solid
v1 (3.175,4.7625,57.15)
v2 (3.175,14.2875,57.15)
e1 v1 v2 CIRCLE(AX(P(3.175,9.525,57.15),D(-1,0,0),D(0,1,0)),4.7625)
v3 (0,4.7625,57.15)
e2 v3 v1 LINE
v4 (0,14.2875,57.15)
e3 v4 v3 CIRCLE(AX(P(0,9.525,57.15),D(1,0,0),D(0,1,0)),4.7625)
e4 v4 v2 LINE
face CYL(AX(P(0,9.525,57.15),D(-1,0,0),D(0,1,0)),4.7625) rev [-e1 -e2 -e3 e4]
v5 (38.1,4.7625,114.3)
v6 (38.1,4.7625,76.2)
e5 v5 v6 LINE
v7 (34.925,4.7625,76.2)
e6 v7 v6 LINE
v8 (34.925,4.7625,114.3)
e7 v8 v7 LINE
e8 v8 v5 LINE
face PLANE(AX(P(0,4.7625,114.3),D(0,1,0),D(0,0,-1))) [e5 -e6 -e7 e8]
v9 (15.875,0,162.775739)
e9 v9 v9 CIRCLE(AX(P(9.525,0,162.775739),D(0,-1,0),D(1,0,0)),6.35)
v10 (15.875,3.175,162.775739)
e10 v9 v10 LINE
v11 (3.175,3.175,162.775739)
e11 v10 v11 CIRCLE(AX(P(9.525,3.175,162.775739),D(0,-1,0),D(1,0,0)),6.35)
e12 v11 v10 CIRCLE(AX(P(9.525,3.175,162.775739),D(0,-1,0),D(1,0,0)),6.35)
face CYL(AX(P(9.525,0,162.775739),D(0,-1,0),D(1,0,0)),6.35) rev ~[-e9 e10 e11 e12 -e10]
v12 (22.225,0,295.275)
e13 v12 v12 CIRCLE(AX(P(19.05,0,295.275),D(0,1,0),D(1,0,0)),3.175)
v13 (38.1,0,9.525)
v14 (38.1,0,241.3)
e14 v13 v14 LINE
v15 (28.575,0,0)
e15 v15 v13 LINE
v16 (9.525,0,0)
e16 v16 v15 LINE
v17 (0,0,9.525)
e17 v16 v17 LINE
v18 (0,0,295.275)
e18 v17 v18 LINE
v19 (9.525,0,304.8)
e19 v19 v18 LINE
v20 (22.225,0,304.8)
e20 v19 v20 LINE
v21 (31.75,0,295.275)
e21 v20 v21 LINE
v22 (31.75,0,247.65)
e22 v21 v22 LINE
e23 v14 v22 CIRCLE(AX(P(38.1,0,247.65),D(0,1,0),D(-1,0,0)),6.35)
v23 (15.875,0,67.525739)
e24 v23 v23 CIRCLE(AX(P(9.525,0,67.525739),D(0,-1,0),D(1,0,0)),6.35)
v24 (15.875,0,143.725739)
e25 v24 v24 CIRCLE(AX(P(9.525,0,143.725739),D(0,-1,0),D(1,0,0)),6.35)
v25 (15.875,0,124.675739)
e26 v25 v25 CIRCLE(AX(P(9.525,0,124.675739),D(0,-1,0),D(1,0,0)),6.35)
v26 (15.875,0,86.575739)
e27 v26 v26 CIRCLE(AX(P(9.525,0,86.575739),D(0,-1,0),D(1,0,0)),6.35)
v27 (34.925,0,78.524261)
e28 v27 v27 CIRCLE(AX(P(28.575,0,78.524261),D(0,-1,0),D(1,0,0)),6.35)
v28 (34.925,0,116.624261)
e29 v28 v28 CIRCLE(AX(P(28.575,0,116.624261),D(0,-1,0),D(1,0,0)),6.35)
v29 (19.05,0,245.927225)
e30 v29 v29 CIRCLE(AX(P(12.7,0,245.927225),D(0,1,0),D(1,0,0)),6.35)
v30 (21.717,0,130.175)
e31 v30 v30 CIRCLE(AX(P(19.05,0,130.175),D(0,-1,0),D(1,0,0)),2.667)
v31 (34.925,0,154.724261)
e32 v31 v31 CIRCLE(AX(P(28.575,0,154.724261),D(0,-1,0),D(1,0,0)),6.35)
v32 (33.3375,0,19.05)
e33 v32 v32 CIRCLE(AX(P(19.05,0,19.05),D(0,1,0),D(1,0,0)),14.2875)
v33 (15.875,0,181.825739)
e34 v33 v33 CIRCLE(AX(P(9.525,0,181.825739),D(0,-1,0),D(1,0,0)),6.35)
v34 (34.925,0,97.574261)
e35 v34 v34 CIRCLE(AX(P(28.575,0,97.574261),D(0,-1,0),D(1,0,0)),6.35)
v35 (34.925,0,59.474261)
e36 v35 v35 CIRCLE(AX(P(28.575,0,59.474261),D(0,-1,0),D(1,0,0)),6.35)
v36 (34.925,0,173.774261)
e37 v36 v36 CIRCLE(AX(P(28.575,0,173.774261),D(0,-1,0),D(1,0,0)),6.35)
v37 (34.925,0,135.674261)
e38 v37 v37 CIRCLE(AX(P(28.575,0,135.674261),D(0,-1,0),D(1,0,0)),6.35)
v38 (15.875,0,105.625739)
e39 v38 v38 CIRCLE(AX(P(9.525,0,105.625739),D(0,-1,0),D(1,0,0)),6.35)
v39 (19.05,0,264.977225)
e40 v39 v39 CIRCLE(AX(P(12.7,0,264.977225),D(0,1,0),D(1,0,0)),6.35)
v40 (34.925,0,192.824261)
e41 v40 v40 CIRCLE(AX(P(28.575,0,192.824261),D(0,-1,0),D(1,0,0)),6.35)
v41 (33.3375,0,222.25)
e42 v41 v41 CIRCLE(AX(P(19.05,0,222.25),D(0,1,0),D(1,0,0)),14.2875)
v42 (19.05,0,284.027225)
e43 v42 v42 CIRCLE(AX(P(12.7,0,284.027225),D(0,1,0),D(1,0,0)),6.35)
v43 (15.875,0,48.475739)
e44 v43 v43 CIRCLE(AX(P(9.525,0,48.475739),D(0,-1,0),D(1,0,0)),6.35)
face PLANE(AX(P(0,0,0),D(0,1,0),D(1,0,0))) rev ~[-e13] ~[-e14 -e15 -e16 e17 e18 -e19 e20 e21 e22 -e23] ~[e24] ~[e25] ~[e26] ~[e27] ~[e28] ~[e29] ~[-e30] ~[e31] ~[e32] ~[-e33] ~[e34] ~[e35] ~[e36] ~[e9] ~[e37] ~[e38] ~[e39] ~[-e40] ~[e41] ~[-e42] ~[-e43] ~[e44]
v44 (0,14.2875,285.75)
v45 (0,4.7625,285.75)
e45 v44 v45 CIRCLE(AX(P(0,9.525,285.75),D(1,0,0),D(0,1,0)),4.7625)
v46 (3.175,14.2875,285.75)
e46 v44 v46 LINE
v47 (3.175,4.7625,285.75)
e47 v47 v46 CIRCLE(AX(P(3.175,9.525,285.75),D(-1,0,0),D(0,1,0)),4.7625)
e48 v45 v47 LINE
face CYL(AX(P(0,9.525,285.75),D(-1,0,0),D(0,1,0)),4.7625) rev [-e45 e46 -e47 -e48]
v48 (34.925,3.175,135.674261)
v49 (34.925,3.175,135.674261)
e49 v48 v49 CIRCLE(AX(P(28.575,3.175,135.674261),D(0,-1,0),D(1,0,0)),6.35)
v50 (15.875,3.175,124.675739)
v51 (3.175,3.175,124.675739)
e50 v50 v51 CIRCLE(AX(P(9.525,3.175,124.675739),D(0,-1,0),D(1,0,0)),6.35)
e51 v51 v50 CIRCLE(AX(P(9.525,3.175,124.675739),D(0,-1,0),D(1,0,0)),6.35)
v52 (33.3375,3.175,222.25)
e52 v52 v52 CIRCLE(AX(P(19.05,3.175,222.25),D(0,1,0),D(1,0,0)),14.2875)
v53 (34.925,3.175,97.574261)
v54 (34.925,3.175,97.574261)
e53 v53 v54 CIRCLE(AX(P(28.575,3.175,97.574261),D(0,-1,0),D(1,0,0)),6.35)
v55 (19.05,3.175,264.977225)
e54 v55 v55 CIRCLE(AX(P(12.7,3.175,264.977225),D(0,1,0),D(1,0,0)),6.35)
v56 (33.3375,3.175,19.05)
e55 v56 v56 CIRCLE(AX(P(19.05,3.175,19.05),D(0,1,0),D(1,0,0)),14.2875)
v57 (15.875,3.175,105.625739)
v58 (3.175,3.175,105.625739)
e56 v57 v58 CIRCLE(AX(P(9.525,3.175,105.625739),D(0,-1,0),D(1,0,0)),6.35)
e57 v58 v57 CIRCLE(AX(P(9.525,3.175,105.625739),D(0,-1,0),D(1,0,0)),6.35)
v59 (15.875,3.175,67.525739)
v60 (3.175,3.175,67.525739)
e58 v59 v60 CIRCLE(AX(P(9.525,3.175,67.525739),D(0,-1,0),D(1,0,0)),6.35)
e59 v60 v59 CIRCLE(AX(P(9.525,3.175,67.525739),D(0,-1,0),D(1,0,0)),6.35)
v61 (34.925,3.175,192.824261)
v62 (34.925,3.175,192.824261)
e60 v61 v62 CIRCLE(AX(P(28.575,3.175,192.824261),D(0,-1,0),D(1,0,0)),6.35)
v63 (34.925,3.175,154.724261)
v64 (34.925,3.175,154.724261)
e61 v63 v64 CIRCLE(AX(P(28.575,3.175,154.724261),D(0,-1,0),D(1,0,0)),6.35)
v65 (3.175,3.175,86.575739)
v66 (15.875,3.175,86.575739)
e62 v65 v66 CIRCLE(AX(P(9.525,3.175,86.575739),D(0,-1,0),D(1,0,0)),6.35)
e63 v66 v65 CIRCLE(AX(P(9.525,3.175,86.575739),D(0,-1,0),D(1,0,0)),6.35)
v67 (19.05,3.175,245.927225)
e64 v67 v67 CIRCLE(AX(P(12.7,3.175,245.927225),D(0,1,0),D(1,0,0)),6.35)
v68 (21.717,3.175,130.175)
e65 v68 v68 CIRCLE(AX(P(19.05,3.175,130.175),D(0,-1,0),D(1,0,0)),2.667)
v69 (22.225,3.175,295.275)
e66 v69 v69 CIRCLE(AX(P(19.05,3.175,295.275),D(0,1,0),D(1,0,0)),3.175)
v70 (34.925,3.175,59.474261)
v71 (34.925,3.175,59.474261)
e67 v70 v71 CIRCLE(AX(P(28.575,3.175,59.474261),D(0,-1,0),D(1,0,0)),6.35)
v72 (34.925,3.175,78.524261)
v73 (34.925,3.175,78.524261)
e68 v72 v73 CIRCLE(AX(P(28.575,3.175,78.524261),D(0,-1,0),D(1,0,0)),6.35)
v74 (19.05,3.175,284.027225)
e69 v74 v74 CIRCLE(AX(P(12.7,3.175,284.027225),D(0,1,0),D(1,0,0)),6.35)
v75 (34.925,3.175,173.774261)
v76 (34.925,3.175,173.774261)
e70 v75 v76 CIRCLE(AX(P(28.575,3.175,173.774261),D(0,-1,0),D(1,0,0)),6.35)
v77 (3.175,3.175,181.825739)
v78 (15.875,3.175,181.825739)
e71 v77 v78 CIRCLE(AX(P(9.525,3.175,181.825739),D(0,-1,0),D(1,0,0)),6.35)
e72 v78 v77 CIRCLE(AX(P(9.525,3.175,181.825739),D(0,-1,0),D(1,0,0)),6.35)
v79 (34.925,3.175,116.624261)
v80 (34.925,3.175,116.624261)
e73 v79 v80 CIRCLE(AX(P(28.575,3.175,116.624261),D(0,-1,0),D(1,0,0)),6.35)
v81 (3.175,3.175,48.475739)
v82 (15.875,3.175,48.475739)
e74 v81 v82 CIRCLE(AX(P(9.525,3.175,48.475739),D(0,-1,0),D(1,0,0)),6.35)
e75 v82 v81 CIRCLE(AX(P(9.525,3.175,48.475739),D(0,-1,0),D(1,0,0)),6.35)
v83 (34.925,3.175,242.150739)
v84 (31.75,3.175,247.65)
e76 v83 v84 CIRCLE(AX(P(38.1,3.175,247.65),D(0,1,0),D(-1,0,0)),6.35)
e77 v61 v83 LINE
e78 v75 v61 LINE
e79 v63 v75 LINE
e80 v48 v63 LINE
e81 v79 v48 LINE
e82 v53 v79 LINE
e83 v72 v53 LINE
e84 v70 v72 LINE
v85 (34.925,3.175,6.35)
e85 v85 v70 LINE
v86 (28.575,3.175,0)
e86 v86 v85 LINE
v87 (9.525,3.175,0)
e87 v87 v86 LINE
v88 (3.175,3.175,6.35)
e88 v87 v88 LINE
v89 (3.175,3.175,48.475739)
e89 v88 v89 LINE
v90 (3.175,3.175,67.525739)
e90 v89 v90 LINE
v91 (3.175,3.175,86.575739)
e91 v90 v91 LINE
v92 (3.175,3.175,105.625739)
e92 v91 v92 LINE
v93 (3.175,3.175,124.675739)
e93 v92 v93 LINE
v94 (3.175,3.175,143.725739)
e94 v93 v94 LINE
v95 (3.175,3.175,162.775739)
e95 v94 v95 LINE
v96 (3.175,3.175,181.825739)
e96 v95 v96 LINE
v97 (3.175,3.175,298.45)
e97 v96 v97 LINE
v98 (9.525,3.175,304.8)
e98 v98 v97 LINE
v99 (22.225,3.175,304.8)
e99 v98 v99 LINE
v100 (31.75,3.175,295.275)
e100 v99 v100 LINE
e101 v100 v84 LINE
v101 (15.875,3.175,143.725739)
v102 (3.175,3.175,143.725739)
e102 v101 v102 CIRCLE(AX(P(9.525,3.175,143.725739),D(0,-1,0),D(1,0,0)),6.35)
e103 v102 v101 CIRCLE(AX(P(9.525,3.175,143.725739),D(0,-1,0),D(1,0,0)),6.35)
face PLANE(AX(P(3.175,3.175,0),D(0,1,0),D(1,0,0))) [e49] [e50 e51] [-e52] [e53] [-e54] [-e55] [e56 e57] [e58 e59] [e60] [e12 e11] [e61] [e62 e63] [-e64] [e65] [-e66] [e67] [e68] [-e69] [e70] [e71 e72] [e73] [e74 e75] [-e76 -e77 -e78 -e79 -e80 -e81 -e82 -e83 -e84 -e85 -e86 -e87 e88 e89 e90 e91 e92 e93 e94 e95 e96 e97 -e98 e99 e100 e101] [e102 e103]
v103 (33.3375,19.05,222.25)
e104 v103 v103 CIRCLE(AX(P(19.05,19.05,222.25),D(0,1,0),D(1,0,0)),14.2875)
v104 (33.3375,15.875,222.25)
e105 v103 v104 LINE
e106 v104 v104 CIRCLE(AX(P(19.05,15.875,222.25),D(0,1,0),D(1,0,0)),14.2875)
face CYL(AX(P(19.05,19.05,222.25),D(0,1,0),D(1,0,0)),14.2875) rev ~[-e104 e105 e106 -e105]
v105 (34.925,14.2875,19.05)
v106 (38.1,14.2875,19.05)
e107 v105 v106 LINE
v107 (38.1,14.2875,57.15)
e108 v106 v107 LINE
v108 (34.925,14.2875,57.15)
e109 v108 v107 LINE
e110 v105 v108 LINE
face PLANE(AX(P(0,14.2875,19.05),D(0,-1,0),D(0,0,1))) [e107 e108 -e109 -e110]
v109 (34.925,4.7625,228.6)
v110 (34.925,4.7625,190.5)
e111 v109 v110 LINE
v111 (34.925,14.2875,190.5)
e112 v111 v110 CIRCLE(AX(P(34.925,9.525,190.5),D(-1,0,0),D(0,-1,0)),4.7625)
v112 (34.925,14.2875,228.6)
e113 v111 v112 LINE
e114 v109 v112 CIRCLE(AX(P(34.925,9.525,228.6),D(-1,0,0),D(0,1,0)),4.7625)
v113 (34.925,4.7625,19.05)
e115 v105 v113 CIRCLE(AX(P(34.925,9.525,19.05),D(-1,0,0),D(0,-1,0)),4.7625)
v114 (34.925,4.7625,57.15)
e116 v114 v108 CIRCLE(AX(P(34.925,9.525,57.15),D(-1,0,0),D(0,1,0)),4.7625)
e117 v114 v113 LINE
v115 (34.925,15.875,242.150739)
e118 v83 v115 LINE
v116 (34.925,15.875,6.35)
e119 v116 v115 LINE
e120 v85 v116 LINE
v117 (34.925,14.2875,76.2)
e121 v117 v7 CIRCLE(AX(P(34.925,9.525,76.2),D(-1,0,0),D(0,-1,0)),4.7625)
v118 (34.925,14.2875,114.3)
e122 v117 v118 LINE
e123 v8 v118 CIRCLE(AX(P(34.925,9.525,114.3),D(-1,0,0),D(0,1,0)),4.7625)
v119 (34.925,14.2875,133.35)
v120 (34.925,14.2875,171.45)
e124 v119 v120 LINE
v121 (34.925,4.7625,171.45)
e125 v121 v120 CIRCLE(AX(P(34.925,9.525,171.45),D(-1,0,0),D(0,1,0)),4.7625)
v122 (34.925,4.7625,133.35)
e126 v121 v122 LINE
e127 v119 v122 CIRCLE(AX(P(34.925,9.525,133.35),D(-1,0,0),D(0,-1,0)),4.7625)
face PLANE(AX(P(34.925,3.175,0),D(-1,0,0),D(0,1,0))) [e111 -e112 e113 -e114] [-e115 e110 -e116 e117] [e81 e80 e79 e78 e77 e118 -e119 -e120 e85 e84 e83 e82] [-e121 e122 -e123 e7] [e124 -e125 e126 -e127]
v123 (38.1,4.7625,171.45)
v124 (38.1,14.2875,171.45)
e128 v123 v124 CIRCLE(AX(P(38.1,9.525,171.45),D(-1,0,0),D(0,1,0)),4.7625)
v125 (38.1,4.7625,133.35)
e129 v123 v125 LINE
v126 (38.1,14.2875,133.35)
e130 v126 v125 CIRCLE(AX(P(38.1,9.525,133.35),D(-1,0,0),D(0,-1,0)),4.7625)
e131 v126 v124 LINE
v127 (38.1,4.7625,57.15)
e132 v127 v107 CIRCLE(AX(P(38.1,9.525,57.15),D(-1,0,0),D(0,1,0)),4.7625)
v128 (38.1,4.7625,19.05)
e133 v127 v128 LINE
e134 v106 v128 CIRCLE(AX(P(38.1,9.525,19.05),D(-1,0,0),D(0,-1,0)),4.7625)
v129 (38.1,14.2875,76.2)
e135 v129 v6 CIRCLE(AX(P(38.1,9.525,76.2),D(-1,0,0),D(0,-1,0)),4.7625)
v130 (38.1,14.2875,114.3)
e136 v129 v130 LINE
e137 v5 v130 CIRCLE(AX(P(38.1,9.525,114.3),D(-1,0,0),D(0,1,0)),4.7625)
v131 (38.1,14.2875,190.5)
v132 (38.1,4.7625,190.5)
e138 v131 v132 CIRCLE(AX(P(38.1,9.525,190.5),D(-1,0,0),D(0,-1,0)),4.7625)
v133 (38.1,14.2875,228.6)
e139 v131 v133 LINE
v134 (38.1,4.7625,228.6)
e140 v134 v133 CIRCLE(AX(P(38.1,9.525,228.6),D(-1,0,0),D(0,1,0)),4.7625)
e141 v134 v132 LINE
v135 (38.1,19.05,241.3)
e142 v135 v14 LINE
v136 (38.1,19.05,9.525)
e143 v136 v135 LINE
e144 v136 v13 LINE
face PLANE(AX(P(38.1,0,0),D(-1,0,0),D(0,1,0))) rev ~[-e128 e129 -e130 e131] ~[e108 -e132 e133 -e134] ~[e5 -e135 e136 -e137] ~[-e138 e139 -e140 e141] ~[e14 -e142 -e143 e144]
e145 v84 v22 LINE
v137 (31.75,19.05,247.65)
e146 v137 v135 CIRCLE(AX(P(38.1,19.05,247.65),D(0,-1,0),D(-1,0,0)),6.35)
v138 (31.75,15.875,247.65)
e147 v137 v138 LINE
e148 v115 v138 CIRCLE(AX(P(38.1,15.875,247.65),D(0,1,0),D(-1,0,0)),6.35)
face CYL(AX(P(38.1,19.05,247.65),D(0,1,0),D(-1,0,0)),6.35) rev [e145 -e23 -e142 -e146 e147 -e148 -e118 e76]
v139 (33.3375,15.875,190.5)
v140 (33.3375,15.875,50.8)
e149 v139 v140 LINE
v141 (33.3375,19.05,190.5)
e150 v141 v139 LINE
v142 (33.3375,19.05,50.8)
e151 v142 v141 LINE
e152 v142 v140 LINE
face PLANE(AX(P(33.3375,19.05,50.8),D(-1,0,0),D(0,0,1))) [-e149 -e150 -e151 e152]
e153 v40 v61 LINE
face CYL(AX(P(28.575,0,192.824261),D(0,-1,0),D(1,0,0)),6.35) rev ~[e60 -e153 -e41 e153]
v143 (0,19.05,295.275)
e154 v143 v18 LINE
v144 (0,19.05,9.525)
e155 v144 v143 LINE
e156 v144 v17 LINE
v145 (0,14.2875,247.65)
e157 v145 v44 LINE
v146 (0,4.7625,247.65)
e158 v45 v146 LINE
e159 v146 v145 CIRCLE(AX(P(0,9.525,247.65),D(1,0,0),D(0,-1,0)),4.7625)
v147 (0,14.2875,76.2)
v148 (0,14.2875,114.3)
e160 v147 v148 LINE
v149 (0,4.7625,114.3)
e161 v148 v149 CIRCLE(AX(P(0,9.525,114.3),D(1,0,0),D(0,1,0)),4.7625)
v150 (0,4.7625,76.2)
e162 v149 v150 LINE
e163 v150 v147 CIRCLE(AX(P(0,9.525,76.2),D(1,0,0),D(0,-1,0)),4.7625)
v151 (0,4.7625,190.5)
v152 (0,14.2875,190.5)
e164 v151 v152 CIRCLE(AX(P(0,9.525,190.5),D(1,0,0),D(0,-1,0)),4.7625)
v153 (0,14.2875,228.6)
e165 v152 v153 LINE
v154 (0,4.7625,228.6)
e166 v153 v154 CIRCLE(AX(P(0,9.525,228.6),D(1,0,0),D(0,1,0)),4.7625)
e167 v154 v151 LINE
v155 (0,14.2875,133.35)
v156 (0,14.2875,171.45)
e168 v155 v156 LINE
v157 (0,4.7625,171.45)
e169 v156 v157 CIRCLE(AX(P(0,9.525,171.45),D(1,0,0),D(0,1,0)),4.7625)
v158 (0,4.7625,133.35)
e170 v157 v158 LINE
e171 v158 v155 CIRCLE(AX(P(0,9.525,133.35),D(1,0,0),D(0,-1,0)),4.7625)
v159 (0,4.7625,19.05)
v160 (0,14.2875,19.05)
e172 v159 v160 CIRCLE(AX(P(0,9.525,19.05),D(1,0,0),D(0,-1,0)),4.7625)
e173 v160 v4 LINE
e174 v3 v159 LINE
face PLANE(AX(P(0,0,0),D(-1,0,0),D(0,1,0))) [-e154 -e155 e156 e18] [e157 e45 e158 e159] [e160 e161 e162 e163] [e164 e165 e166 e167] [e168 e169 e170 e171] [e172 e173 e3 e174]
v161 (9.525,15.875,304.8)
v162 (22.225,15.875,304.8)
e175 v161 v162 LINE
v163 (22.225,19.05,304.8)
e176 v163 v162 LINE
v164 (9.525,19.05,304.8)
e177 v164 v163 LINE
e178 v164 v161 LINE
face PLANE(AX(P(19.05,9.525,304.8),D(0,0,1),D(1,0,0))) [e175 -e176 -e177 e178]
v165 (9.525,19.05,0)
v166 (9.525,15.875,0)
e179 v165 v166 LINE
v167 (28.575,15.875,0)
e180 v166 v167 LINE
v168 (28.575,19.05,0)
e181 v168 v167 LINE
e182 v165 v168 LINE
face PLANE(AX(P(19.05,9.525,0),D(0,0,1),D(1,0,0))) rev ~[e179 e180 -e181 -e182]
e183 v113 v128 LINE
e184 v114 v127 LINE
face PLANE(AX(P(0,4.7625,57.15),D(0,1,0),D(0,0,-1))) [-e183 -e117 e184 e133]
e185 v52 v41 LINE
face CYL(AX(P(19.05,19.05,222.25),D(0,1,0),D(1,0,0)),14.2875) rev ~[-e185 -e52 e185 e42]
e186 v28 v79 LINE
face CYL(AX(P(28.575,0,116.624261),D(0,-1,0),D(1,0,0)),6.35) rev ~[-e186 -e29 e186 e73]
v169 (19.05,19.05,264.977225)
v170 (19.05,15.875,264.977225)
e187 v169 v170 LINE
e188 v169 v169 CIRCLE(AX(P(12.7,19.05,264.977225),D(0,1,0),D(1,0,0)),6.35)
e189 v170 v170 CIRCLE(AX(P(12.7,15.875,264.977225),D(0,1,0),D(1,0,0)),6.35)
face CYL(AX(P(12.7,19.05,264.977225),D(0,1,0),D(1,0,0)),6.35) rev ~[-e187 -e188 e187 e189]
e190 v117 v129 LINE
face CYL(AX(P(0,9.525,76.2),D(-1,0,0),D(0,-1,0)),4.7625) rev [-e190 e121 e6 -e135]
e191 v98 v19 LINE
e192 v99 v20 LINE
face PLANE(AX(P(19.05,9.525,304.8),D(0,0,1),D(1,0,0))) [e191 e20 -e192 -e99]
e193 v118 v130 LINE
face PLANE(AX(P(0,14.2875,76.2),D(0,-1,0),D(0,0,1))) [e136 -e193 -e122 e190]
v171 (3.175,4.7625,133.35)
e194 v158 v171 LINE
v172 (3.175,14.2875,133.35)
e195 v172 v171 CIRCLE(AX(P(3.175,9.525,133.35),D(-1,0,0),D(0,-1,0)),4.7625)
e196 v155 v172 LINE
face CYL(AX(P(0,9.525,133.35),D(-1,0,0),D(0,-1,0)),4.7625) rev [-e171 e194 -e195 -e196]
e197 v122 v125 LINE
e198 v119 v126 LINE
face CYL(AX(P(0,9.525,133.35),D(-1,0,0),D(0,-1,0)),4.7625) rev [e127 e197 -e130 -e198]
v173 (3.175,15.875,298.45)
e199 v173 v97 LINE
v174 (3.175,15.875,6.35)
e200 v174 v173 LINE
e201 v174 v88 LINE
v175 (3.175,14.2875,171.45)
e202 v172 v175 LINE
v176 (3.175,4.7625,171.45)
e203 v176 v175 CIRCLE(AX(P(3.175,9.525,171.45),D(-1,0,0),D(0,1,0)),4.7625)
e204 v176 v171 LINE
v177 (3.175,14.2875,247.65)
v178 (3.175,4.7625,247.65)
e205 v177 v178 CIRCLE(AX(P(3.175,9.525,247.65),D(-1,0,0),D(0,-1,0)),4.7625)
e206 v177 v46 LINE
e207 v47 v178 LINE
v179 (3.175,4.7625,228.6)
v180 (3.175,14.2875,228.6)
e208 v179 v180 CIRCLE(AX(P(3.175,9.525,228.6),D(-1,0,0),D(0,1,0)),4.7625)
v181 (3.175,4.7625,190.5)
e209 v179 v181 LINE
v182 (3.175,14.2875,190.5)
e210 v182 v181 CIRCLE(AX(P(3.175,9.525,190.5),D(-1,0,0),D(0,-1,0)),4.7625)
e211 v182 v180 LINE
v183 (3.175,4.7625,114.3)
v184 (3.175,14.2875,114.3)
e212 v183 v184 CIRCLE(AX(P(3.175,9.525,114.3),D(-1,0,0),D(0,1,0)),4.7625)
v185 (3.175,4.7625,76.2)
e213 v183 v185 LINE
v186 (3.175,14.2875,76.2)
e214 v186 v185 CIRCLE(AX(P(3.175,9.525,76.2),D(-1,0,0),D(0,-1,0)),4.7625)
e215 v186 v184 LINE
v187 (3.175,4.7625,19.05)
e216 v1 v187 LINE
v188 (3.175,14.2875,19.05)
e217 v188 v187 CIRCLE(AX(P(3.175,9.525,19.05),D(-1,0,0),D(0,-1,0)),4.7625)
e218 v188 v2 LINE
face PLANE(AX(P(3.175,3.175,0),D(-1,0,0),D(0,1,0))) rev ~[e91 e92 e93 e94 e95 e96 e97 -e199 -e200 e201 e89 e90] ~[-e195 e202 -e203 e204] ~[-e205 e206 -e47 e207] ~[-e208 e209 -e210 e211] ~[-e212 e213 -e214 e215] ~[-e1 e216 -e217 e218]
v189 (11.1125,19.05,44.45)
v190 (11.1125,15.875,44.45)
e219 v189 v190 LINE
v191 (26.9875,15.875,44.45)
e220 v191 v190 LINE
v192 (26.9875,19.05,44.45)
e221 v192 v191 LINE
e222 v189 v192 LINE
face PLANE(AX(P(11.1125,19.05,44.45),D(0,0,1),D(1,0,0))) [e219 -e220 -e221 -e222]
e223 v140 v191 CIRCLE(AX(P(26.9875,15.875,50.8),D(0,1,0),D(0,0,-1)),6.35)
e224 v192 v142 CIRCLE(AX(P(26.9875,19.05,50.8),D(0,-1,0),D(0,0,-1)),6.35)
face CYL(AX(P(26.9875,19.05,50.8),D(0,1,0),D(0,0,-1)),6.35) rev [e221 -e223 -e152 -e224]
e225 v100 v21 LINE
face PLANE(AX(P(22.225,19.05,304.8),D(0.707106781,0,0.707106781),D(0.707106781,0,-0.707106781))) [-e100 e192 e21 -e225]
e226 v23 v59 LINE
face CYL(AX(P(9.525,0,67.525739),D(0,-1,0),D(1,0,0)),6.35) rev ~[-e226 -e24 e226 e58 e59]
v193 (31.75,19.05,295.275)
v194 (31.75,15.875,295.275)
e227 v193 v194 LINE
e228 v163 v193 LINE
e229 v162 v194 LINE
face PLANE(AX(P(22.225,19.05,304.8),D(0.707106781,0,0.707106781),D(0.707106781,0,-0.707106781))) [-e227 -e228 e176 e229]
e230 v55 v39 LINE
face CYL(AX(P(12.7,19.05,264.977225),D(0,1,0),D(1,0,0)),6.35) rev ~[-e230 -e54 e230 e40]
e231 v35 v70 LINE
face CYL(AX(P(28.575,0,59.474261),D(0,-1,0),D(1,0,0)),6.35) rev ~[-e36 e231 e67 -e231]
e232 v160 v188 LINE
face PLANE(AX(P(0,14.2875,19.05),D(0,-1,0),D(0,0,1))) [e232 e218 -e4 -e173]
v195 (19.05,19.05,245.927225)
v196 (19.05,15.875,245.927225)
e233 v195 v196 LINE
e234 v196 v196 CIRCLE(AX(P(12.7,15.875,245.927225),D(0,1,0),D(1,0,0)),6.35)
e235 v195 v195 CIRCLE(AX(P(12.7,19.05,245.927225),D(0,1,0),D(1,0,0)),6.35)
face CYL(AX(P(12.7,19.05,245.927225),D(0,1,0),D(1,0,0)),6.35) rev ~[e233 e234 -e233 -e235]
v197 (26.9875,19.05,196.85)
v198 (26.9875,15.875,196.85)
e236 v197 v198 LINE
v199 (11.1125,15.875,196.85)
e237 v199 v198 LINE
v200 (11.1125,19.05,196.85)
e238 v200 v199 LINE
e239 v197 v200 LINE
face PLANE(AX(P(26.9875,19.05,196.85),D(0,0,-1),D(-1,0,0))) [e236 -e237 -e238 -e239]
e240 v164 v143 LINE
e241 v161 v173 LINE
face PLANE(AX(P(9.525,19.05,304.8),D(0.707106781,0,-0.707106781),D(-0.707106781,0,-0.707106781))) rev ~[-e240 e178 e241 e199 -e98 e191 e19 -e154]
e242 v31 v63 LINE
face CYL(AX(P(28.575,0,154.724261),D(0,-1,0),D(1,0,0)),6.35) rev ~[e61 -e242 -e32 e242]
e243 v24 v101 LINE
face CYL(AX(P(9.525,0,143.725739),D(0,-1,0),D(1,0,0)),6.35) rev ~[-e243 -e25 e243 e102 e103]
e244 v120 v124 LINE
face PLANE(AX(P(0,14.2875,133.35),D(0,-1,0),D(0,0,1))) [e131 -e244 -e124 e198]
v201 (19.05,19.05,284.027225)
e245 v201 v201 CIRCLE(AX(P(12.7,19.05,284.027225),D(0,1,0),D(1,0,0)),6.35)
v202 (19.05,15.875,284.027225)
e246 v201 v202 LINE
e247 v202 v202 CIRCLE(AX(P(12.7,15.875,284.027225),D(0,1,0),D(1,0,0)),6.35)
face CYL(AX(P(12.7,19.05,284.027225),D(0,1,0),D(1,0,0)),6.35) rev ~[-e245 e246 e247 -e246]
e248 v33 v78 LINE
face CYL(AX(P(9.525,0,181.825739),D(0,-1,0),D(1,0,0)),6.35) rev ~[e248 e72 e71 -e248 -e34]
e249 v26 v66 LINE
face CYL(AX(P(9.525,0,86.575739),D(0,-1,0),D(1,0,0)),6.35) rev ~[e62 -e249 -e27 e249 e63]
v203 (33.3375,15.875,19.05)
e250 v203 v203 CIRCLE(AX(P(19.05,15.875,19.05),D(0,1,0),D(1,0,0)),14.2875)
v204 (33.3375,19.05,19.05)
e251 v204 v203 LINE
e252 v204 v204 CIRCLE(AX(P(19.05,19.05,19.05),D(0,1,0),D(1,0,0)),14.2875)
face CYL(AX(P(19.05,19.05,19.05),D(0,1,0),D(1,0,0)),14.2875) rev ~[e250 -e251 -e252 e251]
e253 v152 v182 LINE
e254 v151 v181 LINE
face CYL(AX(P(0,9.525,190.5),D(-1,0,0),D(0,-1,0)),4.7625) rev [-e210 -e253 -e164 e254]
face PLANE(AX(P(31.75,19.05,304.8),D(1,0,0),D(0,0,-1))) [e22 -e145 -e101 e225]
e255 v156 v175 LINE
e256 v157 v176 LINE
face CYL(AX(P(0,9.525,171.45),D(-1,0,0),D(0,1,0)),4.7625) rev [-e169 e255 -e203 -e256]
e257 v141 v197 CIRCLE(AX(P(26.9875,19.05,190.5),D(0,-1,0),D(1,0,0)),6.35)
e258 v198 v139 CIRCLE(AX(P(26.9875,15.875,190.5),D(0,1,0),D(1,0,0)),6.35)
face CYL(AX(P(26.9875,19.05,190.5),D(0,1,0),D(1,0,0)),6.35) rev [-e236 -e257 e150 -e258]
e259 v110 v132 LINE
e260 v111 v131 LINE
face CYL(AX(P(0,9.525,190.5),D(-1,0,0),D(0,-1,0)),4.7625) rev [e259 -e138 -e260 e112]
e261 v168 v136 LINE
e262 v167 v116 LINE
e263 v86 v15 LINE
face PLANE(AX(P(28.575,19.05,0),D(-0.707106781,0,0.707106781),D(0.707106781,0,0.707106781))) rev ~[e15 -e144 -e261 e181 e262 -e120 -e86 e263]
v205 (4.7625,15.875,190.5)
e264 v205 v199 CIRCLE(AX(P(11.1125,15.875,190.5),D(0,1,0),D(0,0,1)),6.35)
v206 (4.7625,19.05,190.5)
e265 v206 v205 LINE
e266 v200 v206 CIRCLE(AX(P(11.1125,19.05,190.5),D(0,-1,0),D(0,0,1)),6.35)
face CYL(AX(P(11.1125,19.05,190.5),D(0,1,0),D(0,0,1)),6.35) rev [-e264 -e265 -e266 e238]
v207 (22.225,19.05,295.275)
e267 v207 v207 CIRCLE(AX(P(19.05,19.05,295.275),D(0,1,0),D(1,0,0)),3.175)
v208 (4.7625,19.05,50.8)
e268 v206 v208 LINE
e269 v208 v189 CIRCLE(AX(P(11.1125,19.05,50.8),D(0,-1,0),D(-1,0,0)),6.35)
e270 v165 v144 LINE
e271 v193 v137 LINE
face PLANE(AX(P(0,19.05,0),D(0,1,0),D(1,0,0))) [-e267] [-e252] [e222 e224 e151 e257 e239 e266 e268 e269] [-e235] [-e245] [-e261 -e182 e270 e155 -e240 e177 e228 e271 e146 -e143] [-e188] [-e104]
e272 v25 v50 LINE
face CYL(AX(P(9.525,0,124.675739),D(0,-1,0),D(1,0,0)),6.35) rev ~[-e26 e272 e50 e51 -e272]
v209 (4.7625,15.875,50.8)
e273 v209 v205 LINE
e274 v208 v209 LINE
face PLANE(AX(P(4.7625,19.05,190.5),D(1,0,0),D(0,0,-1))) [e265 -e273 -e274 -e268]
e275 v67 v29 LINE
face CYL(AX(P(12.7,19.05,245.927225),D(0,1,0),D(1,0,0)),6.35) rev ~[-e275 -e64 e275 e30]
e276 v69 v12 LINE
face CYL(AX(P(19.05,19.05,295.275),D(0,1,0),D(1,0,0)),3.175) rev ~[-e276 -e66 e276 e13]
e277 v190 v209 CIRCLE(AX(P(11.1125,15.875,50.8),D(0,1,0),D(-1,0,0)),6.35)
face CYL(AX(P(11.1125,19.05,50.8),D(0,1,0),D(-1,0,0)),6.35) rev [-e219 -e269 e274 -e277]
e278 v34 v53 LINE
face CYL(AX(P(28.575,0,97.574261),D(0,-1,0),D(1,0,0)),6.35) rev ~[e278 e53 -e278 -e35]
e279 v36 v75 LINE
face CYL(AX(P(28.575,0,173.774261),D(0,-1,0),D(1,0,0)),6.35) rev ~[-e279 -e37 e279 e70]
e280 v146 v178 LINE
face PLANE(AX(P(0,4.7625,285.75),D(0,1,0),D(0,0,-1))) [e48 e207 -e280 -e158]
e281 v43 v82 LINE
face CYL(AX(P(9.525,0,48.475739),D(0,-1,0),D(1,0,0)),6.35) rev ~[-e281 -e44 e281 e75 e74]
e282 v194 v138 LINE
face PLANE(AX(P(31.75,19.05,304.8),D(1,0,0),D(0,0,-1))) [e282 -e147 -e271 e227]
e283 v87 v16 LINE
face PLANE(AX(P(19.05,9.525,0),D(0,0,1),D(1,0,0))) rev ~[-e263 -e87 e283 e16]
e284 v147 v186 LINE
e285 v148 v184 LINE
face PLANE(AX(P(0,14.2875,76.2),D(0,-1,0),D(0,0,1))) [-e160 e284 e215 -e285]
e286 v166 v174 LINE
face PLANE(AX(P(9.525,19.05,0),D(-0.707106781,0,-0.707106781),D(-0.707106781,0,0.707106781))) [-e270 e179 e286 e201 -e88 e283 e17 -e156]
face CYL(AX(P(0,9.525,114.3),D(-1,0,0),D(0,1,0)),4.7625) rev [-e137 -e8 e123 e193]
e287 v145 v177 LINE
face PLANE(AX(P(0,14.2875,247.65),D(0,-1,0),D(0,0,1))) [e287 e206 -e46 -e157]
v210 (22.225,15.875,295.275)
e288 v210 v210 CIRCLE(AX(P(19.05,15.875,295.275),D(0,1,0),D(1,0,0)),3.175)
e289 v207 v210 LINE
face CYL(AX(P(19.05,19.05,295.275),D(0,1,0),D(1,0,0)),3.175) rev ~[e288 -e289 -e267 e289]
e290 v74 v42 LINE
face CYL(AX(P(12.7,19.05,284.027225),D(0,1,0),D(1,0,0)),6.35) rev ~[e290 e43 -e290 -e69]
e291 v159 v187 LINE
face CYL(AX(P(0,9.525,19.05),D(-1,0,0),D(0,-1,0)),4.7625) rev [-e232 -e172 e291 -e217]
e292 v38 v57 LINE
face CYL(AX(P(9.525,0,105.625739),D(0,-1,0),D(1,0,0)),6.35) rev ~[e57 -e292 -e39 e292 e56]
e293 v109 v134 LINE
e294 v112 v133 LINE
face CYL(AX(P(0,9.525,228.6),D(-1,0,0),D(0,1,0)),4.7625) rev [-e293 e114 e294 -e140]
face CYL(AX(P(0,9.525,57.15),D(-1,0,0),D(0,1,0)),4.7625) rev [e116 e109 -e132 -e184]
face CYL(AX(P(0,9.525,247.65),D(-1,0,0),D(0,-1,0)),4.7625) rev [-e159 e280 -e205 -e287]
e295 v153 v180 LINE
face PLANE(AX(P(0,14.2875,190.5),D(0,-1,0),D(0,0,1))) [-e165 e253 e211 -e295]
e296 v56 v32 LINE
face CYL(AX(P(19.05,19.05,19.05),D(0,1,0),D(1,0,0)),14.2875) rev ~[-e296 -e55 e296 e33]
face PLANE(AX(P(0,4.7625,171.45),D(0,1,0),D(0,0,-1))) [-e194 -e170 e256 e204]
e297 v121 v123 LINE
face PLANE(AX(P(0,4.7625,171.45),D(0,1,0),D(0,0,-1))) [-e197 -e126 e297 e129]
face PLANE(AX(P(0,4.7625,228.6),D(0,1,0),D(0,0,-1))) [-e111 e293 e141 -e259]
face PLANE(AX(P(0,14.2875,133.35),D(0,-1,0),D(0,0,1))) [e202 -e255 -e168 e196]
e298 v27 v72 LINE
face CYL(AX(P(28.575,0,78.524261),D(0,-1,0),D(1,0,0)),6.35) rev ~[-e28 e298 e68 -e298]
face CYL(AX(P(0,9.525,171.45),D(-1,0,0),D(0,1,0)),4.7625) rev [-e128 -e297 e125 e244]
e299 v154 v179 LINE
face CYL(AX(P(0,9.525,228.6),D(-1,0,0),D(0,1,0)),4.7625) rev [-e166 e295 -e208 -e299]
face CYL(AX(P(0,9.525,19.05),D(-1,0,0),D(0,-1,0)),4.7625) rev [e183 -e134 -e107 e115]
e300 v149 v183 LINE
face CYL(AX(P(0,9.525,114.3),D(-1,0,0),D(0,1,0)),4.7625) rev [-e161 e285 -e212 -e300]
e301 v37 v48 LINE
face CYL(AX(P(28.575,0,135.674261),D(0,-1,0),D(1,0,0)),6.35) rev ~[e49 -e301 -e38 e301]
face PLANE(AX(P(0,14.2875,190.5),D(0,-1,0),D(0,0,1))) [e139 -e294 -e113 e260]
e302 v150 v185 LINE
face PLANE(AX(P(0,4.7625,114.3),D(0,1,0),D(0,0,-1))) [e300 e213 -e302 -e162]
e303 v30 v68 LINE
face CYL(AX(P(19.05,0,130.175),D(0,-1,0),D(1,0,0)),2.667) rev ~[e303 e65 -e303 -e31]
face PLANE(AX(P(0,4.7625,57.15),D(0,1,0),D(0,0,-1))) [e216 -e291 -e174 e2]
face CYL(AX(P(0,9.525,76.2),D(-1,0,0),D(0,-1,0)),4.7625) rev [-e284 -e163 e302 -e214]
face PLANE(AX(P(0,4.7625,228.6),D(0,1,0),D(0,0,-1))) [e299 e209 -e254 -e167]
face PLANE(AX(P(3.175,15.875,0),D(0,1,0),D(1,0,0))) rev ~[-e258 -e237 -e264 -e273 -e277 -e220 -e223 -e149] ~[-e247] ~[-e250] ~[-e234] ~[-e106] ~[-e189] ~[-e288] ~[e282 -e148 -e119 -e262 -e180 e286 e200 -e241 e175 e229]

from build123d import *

# Parameters (mm, degrees)
SKETCH1_W           = 38.1
SKETCH1_H           = 19.05
SKETCH1_W_2         = 31.75
SKETCH1_H_2         = 12.7
BOSS_EXTRUDE1_DEPTH = 304.8
SKETCH2_R           = 14.2875
CUT_EXTRUDE1_DEPTH  = 20.05
SKETCH3_R           = 3.175
CUT_EXTRUDE2_DEPTH  = 20.05
CUT_EXTRUDE3_DEPTH  = 20.05
CUT_EXTRUDE6_DEPTH  = 39.1
CUT_EXTRUDE7_REACH  = 21.05
CUT_EXTRUDE8_REACH  = 21.05
SKETCH9_R           = 6.35
CUT_EXTRUDE9_REACH  = 21.05
SKETCH10_R          = 2.667
SKETCH11_R          = 6.35
CUT_EXTRUDE10_DEPTH = 20.05
CUT_EXTRUDE11_DEPTH = 20.05


with BuildPart() as part:
    # Sketch1 → Boss-Extrude1 (new body)
    with BuildSketch(Plane.XY):
        with Locations((19.05, 9.525)):
            Rectangle(SKETCH1_W, SKETCH1_H)
        with Locations((19.05, 9.525)):
            Rectangle(SKETCH1_W_2, SKETCH1_H_2, mode=Mode.SUBTRACT)
    extrude(amount=BOSS_EXTRUDE1_DEPTH)

    # Sketch2 → Cut-Extrude1 (cut, through all)
    with BuildSketch(Plane(origin=(0, 19.05, 0), x_dir=(1, 0, 0), z_dir=(0, 1, 0))):
        with Locations((19.05, -19.05)):
            Circle(SKETCH2_R)
        with Locations((19.05, -222.25)):
            Circle(SKETCH2_R)
    extrude(amount=-CUT_EXTRUDE1_DEPTH, mode=Mode.SUBTRACT)

    # Sketch3 → Cut-Extrude2 (cut, through all)
    with BuildSketch(Plane(origin=(0, 19.05, 0), x_dir=(1, 0, 0), z_dir=(0, 1, 0))):
        with Locations((19.05, -295.275)):
            Circle(SKETCH3_R)
    extrude(amount=-CUT_EXTRUDE2_DEPTH, mode=Mode.SUBTRACT)

    # Sketch4 → Cut-Extrude3 (cut, through all)
    with BuildSketch(Plane(origin=(0, 19.05, 0), x_dir=(1, 0, 0), z_dir=(0, 1, 0))):
        with BuildLine():
            Line((31.75, -304.8), (31.75, -247.65))
            ThreePointArc((31.75, -247.65), (33.609871939, -243.159871939), (38.1, -241.3))
            Line((38.1, -241.3), (38.1, -304.8))
            Line((38.1, -304.8), (31.75, -304.8))
        make_face()
    extrude(amount=-CUT_EXTRUDE3_DEPTH, mode=Mode.SUBTRACT)

    # Sketch7 → Cut-Extrude6 (cut, through all)
    with BuildSketch(Plane.ZY):
        with BuildLine():
            Line((19.05, 14.2875), (57.15, 14.2875))
            ThreePointArc((57.15, 14.2875), (61.9125, 9.525), (57.15, 4.7625))
            Line((57.15, 4.7625), (19.05, 4.7625))
            ThreePointArc((19.05, 4.7625), (14.2875, 9.525), (19.05, 14.2875))
        make_face()
        with BuildLine():
            Line((76.2, 14.2875), (114.3, 14.2875))
            ThreePointArc((114.3, 14.2875), (119.0625, 9.525), (114.3, 4.7625))
            Line((114.3, 4.7625), (76.2, 4.7625))
            ThreePointArc((76.2, 4.7625), (71.4375, 9.525), (76.2, 14.2875))
        make_face()
        with BuildLine():
            Line((133.35, 14.2875), (171.45, 14.2875))
            ThreePointArc((171.45, 14.2875), (176.2125, 9.525), (171.45, 4.7625))
            Line((171.45, 4.7625), (133.35, 4.7625))
            ThreePointArc((133.35, 4.7625), (128.5875, 9.525), (133.35, 14.2875))
        make_face()
        with BuildLine():
            Line((190.5, 14.2875), (228.6, 14.2875))
            ThreePointArc((228.6, 14.2875), (233.3625, 9.525), (228.6, 4.7625))
            Line((228.6, 4.7625), (190.5, 4.7625))
            ThreePointArc((190.5, 4.7625), (185.7375, 9.525), (190.5, 14.2875))
        make_face()
        with BuildLine():
            Line((247.65, 14.2875), (285.75, 14.2875))
            ThreePointArc((285.75, 14.2875), (290.5125, 9.525), (285.75, 4.7625))
            Line((285.75, 4.7625), (247.65, 4.7625))
            ThreePointArc((247.65, 4.7625), (242.8875, 9.525), (247.65, 14.2875))
        make_face()
    extrude(amount=-CUT_EXTRUDE6_DEPTH, mode=Mode.SUBTRACT)

    # Sketch8 → Cut-Extrude7 (cut, up to next)
    with BuildSketch(Plane(origin=(0, 19.05, 0), x_dir=(1, 0, 0), z_dir=(0, 1, 0)), mode=Mode.PRIVATE) as cut_extrude7_sk1:
        with BuildLine():
            Line((11.1125, -44.45), (26.9875, -44.45))
            ThreePointArc((26.9875, -44.45), (31.477628061, -46.309871939), (33.3375, -50.8))
            Line((33.3375, -50.8), (33.3375, -190.5))
            ThreePointArc((33.3375, -190.5), (31.477628061, -194.990128061), (26.9875, -196.85))
            Line((26.9875, -196.85), (11.1125, -196.85))
            ThreePointArc((11.1125, -196.85), (6.622371939, -194.990128061), (4.7625, -190.5))
            Line((4.7625, -190.5), (4.7625, -50.8))
            ThreePointArc((4.7625, -50.8), (6.622371939, -46.309871939), (11.1125, -44.45))
        make_face()
    cut_extrude7_tool1 = extrude(cut_extrude7_sk1.sketch, amount=-CUT_EXTRUDE7_REACH, mode=Mode.PRIVATE) & part.part
    add(cut_extrude7_tool1.solids().sort_by_distance((19.05, 19.05, 120.65))[0], mode=Mode.SUBTRACT)

    # Sketch9 → Cut-Extrude8 (cut, up to next)
    with BuildSketch(Plane.XZ, mode=Mode.PRIVATE) as cut_extrude8_sk1:
        with Locations((9.525, 48.475738686)):
            Circle(SKETCH9_R)
    cut_extrude8_tool1 = extrude(cut_extrude8_sk1.sketch, amount=-CUT_EXTRUDE8_REACH, mode=Mode.PRIVATE) & part.part
    add(cut_extrude8_tool1.solids().sort_by_distance((9.525, 0, 48.475739))[0], mode=Mode.SUBTRACT)
    # Sketch9 → Cut-Extrude8 (cut, up to next)
    with BuildSketch(Plane.XZ, mode=Mode.PRIVATE) as cut_extrude8_sk2:
        with Locations((28.575, 59.474261314)):
            Circle(SKETCH9_R)
    cut_extrude8_tool2 = extrude(cut_extrude8_sk2.sketch, amount=-CUT_EXTRUDE8_REACH, mode=Mode.PRIVATE) & part.part
    add(cut_extrude8_tool2.solids().sort_by_distance((28.575, 0, 59.474261))[0], mode=Mode.SUBTRACT)
    # Sketch9 → Cut-Extrude8 (cut, up to next)
    with BuildSketch(Plane.XZ, mode=Mode.PRIVATE) as cut_extrude8_sk3:
        with Locations((9.525, 67.525738686)):
            Circle(SKETCH9_R)
    cut_extrude8_tool3 = extrude(cut_extrude8_sk3.sketch, amount=-CUT_EXTRUDE8_REACH, mode=Mode.PRIVATE) & part.part
    add(cut_extrude8_tool3.solids().sort_by_distance((9.525, 0, 67.525739))[0], mode=Mode.SUBTRACT)
    # Sketch9 → Cut-Extrude8 (cut, up to next)
    with BuildSketch(Plane.XZ, mode=Mode.PRIVATE) as cut_extrude8_sk4:
        with Locations((28.575, 78.524261314)):
            Circle(SKETCH9_R)
    cut_extrude8_tool4 = extrude(cut_extrude8_sk4.sketch, amount=-CUT_EXTRUDE8_REACH, mode=Mode.PRIVATE) & part.part
    add(cut_extrude8_tool4.solids().sort_by_distance((28.575, 0, 78.524261))[0], mode=Mode.SUBTRACT)
    # Sketch9 → Cut-Extrude8 (cut, up to next)
    with BuildSketch(Plane.XZ, mode=Mode.PRIVATE) as cut_extrude8_sk5:
        with Locations((9.525, 86.575738686)):
            Circle(SKETCH9_R)
    cut_extrude8_tool5 = extrude(cut_extrude8_sk5.sketch, amount=-CUT_EXTRUDE8_REACH, mode=Mode.PRIVATE) & part.part
    add(cut_extrude8_tool5.solids().sort_by_distance((9.525, 0, 86.575739))[0], mode=Mode.SUBTRACT)
    # Sketch9 → Cut-Extrude8 (cut, up to next)
    with BuildSketch(Plane.XZ, mode=Mode.PRIVATE) as cut_extrude8_sk6:
        with Locations((28.575, 97.574261314)):
            Circle(SKETCH9_R)
    cut_extrude8_tool6 = extrude(cut_extrude8_sk6.sketch, amount=-CUT_EXTRUDE8_REACH, mode=Mode.PRIVATE) & part.part
    add(cut_extrude8_tool6.solids().sort_by_distance((28.575, 0, 97.574261))[0], mode=Mode.SUBTRACT)
    # Sketch9 → Cut-Extrude8 (cut, up to next)
    with BuildSketch(Plane.XZ, mode=Mode.PRIVATE) as cut_extrude8_sk7:
        with Locations((9.525, 105.625738686)):
            Circle(SKETCH9_R)
    cut_extrude8_tool7 = extrude(cut_extrude8_sk7.sketch, amount=-CUT_EXTRUDE8_REACH, mode=Mode.PRIVATE) & part.part
    add(cut_extrude8_tool7.solids().sort_by_distance((9.525, 0, 105.625739))[0], mode=Mode.SUBTRACT)
    # Sketch9 → Cut-Extrude8 (cut, up to next)
    with BuildSketch(Plane.XZ, mode=Mode.PRIVATE) as cut_extrude8_sk8:
        with Locations((28.575, 116.624261314)):
            Circle(SKETCH9_R)
    cut_extrude8_tool8 = extrude(cut_extrude8_sk8.sketch, amount=-CUT_EXTRUDE8_REACH, mode=Mode.PRIVATE) & part.part
    add(cut_extrude8_tool8.solids().sort_by_distance((28.575, 0, 116.624261))[0], mode=Mode.SUBTRACT)
    # Sketch9 → Cut-Extrude8 (cut, up to next)
    with BuildSketch(Plane.XZ, mode=Mode.PRIVATE) as cut_extrude8_sk9:
        with Locations((9.525, 124.675738686)):
            Circle(SKETCH9_R)
    cut_extrude8_tool9 = extrude(cut_extrude8_sk9.sketch, amount=-CUT_EXTRUDE8_REACH, mode=Mode.PRIVATE) & part.part
    add(cut_extrude8_tool9.solids().sort_by_distance((9.525, 0, 124.675739))[0], mode=Mode.SUBTRACT)
    # Sketch9 → Cut-Extrude8 (cut, up to next)
    with BuildSketch(Plane.XZ, mode=Mode.PRIVATE) as cut_extrude8_sk10:
        with Locations((28.575, 135.674261314)):
            Circle(SKETCH9_R)
    cut_extrude8_tool10 = extrude(cut_extrude8_sk10.sketch, amount=-CUT_EXTRUDE8_REACH, mode=Mode.PRIVATE) & part.part
    add(cut_extrude8_tool10.solids().sort_by_distance((28.575, 0, 135.674261))[0], mode=Mode.SUBTRACT)
    # Sketch9 → Cut-Extrude8 (cut, up to next)
    with BuildSketch(Plane.XZ, mode=Mode.PRIVATE) as cut_extrude8_sk11:
        with Locations((9.525, 143.725738686)):
            Circle(SKETCH9_R)
    cut_extrude8_tool11 = extrude(cut_extrude8_sk11.sketch, amount=-CUT_EXTRUDE8_REACH, mode=Mode.PRIVATE) & part.part
    add(cut_extrude8_tool11.solids().sort_by_distance((9.525, 0, 143.725739))[0], mode=Mode.SUBTRACT)
    # Sketch9 → Cut-Extrude8 (cut, up to next)
    with BuildSketch(Plane.XZ, mode=Mode.PRIVATE) as cut_extrude8_sk12:
        with Locations((28.575, 154.724261314)):
            Circle(SKETCH9_R)
    cut_extrude8_tool12 = extrude(cut_extrude8_sk12.sketch, amount=-CUT_EXTRUDE8_REACH, mode=Mode.PRIVATE) & part.part
    add(cut_extrude8_tool12.solids().sort_by_distance((28.575, 0, 154.724261))[0], mode=Mode.SUBTRACT)
    # Sketch9 → Cut-Extrude8 (cut, up to next)
    with BuildSketch(Plane.XZ, mode=Mode.PRIVATE) as cut_extrude8_sk13:
        with Locations((9.525, 162.775738686)):
            Circle(SKETCH9_R)
    cut_extrude8_tool13 = extrude(cut_extrude8_sk13.sketch, amount=-CUT_EXTRUDE8_REACH, mode=Mode.PRIVATE) & part.part
    add(cut_extrude8_tool13.solids().sort_by_distance((9.525, 0, 162.775739))[0], mode=Mode.SUBTRACT)
    # Sketch9 → Cut-Extrude8 (cut, up to next)
    with BuildSketch(Plane.XZ, mode=Mode.PRIVATE) as cut_extrude8_sk14:
        with Locations((28.575, 173.774261314)):
            Circle(SKETCH9_R)
    cut_extrude8_tool14 = extrude(cut_extrude8_sk14.sketch, amount=-CUT_EXTRUDE8_REACH, mode=Mode.PRIVATE) & part.part
    add(cut_extrude8_tool14.solids().sort_by_distance((28.575, 0, 173.774261))[0], mode=Mode.SUBTRACT)
    # Sketch9 → Cut-Extrude8 (cut, up to next)
    with BuildSketch(Plane.XZ, mode=Mode.PRIVATE) as cut_extrude8_sk15:
        with Locations((9.525, 181.825738686)):
            Circle(SKETCH9_R)
    cut_extrude8_tool15 = extrude(cut_extrude8_sk15.sketch, amount=-CUT_EXTRUDE8_REACH, mode=Mode.PRIVATE) & part.part
    add(cut_extrude8_tool15.solids().sort_by_distance((9.525, 0, 181.825739))[0], mode=Mode.SUBTRACT)
    # Sketch9 → Cut-Extrude8 (cut, up to next)
    with BuildSketch(Plane.XZ, mode=Mode.PRIVATE) as cut_extrude8_sk16:
        with Locations((28.575, 192.824261314)):
            Circle(SKETCH9_R)
    cut_extrude8_tool16 = extrude(cut_extrude8_sk16.sketch, amount=-CUT_EXTRUDE8_REACH, mode=Mode.PRIVATE) & part.part
    add(cut_extrude8_tool16.solids().sort_by_distance((28.575, 0, 192.824261))[0], mode=Mode.SUBTRACT)

    # Sketch10 → Cut-Extrude9 (cut, up to next)
    with BuildSketch(Plane.XZ, mode=Mode.PRIVATE) as cut_extrude9_sk1:
        with Locations((19.05, 130.175)):
            Circle(SKETCH10_R)
    cut_extrude9_tool1 = extrude(cut_extrude9_sk1.sketch, amount=-CUT_EXTRUDE9_REACH, mode=Mode.PRIVATE) & part.part
    add(cut_extrude9_tool1.solids().sort_by_distance((19.05, 0, 130.175))[0], mode=Mode.SUBTRACT)

    # Sketch11 → Cut-Extrude10 (cut, through all)
    with BuildSketch(Plane(origin=(0, 19.05, 0), x_dir=(1, 0, 0), z_dir=(0, 1, 0))):
        with Locations((12.7, -245.927225036)):
            Circle(SKETCH11_R)
        with Locations((12.7, -264.977225036)):
            Circle(SKETCH11_R)
        with Locations((12.7, -284.027225036)):
            Circle(SKETCH11_R)
    extrude(amount=-CUT_EXTRUDE10_DEPTH, mode=Mode.SUBTRACT)

    # Sketch12 → Cut-Extrude11 (cut, through all)
    with BuildSketch(Plane(origin=(0, 19.05, 0), x_dir=(1, 0, 0), z_dir=(0, 1, 0))):
        Polygon((28.575, 0), (38.1, -9.525), (38.1, 0), align=None)
        Polygon((0, 0), (9.525, 0), (0, -9.525), align=None)
        Polygon((9.525, -304.8), (0, -295.275), (0, -304.8), align=None)
        Polygon((31.75, -304.8), (22.225, -304.8), (31.75, -295.275), align=None)
    extrude(amount=-CUT_EXTRUDE11_DEPTH, mode=Mode.SUBTRACT)


solid = part.part
